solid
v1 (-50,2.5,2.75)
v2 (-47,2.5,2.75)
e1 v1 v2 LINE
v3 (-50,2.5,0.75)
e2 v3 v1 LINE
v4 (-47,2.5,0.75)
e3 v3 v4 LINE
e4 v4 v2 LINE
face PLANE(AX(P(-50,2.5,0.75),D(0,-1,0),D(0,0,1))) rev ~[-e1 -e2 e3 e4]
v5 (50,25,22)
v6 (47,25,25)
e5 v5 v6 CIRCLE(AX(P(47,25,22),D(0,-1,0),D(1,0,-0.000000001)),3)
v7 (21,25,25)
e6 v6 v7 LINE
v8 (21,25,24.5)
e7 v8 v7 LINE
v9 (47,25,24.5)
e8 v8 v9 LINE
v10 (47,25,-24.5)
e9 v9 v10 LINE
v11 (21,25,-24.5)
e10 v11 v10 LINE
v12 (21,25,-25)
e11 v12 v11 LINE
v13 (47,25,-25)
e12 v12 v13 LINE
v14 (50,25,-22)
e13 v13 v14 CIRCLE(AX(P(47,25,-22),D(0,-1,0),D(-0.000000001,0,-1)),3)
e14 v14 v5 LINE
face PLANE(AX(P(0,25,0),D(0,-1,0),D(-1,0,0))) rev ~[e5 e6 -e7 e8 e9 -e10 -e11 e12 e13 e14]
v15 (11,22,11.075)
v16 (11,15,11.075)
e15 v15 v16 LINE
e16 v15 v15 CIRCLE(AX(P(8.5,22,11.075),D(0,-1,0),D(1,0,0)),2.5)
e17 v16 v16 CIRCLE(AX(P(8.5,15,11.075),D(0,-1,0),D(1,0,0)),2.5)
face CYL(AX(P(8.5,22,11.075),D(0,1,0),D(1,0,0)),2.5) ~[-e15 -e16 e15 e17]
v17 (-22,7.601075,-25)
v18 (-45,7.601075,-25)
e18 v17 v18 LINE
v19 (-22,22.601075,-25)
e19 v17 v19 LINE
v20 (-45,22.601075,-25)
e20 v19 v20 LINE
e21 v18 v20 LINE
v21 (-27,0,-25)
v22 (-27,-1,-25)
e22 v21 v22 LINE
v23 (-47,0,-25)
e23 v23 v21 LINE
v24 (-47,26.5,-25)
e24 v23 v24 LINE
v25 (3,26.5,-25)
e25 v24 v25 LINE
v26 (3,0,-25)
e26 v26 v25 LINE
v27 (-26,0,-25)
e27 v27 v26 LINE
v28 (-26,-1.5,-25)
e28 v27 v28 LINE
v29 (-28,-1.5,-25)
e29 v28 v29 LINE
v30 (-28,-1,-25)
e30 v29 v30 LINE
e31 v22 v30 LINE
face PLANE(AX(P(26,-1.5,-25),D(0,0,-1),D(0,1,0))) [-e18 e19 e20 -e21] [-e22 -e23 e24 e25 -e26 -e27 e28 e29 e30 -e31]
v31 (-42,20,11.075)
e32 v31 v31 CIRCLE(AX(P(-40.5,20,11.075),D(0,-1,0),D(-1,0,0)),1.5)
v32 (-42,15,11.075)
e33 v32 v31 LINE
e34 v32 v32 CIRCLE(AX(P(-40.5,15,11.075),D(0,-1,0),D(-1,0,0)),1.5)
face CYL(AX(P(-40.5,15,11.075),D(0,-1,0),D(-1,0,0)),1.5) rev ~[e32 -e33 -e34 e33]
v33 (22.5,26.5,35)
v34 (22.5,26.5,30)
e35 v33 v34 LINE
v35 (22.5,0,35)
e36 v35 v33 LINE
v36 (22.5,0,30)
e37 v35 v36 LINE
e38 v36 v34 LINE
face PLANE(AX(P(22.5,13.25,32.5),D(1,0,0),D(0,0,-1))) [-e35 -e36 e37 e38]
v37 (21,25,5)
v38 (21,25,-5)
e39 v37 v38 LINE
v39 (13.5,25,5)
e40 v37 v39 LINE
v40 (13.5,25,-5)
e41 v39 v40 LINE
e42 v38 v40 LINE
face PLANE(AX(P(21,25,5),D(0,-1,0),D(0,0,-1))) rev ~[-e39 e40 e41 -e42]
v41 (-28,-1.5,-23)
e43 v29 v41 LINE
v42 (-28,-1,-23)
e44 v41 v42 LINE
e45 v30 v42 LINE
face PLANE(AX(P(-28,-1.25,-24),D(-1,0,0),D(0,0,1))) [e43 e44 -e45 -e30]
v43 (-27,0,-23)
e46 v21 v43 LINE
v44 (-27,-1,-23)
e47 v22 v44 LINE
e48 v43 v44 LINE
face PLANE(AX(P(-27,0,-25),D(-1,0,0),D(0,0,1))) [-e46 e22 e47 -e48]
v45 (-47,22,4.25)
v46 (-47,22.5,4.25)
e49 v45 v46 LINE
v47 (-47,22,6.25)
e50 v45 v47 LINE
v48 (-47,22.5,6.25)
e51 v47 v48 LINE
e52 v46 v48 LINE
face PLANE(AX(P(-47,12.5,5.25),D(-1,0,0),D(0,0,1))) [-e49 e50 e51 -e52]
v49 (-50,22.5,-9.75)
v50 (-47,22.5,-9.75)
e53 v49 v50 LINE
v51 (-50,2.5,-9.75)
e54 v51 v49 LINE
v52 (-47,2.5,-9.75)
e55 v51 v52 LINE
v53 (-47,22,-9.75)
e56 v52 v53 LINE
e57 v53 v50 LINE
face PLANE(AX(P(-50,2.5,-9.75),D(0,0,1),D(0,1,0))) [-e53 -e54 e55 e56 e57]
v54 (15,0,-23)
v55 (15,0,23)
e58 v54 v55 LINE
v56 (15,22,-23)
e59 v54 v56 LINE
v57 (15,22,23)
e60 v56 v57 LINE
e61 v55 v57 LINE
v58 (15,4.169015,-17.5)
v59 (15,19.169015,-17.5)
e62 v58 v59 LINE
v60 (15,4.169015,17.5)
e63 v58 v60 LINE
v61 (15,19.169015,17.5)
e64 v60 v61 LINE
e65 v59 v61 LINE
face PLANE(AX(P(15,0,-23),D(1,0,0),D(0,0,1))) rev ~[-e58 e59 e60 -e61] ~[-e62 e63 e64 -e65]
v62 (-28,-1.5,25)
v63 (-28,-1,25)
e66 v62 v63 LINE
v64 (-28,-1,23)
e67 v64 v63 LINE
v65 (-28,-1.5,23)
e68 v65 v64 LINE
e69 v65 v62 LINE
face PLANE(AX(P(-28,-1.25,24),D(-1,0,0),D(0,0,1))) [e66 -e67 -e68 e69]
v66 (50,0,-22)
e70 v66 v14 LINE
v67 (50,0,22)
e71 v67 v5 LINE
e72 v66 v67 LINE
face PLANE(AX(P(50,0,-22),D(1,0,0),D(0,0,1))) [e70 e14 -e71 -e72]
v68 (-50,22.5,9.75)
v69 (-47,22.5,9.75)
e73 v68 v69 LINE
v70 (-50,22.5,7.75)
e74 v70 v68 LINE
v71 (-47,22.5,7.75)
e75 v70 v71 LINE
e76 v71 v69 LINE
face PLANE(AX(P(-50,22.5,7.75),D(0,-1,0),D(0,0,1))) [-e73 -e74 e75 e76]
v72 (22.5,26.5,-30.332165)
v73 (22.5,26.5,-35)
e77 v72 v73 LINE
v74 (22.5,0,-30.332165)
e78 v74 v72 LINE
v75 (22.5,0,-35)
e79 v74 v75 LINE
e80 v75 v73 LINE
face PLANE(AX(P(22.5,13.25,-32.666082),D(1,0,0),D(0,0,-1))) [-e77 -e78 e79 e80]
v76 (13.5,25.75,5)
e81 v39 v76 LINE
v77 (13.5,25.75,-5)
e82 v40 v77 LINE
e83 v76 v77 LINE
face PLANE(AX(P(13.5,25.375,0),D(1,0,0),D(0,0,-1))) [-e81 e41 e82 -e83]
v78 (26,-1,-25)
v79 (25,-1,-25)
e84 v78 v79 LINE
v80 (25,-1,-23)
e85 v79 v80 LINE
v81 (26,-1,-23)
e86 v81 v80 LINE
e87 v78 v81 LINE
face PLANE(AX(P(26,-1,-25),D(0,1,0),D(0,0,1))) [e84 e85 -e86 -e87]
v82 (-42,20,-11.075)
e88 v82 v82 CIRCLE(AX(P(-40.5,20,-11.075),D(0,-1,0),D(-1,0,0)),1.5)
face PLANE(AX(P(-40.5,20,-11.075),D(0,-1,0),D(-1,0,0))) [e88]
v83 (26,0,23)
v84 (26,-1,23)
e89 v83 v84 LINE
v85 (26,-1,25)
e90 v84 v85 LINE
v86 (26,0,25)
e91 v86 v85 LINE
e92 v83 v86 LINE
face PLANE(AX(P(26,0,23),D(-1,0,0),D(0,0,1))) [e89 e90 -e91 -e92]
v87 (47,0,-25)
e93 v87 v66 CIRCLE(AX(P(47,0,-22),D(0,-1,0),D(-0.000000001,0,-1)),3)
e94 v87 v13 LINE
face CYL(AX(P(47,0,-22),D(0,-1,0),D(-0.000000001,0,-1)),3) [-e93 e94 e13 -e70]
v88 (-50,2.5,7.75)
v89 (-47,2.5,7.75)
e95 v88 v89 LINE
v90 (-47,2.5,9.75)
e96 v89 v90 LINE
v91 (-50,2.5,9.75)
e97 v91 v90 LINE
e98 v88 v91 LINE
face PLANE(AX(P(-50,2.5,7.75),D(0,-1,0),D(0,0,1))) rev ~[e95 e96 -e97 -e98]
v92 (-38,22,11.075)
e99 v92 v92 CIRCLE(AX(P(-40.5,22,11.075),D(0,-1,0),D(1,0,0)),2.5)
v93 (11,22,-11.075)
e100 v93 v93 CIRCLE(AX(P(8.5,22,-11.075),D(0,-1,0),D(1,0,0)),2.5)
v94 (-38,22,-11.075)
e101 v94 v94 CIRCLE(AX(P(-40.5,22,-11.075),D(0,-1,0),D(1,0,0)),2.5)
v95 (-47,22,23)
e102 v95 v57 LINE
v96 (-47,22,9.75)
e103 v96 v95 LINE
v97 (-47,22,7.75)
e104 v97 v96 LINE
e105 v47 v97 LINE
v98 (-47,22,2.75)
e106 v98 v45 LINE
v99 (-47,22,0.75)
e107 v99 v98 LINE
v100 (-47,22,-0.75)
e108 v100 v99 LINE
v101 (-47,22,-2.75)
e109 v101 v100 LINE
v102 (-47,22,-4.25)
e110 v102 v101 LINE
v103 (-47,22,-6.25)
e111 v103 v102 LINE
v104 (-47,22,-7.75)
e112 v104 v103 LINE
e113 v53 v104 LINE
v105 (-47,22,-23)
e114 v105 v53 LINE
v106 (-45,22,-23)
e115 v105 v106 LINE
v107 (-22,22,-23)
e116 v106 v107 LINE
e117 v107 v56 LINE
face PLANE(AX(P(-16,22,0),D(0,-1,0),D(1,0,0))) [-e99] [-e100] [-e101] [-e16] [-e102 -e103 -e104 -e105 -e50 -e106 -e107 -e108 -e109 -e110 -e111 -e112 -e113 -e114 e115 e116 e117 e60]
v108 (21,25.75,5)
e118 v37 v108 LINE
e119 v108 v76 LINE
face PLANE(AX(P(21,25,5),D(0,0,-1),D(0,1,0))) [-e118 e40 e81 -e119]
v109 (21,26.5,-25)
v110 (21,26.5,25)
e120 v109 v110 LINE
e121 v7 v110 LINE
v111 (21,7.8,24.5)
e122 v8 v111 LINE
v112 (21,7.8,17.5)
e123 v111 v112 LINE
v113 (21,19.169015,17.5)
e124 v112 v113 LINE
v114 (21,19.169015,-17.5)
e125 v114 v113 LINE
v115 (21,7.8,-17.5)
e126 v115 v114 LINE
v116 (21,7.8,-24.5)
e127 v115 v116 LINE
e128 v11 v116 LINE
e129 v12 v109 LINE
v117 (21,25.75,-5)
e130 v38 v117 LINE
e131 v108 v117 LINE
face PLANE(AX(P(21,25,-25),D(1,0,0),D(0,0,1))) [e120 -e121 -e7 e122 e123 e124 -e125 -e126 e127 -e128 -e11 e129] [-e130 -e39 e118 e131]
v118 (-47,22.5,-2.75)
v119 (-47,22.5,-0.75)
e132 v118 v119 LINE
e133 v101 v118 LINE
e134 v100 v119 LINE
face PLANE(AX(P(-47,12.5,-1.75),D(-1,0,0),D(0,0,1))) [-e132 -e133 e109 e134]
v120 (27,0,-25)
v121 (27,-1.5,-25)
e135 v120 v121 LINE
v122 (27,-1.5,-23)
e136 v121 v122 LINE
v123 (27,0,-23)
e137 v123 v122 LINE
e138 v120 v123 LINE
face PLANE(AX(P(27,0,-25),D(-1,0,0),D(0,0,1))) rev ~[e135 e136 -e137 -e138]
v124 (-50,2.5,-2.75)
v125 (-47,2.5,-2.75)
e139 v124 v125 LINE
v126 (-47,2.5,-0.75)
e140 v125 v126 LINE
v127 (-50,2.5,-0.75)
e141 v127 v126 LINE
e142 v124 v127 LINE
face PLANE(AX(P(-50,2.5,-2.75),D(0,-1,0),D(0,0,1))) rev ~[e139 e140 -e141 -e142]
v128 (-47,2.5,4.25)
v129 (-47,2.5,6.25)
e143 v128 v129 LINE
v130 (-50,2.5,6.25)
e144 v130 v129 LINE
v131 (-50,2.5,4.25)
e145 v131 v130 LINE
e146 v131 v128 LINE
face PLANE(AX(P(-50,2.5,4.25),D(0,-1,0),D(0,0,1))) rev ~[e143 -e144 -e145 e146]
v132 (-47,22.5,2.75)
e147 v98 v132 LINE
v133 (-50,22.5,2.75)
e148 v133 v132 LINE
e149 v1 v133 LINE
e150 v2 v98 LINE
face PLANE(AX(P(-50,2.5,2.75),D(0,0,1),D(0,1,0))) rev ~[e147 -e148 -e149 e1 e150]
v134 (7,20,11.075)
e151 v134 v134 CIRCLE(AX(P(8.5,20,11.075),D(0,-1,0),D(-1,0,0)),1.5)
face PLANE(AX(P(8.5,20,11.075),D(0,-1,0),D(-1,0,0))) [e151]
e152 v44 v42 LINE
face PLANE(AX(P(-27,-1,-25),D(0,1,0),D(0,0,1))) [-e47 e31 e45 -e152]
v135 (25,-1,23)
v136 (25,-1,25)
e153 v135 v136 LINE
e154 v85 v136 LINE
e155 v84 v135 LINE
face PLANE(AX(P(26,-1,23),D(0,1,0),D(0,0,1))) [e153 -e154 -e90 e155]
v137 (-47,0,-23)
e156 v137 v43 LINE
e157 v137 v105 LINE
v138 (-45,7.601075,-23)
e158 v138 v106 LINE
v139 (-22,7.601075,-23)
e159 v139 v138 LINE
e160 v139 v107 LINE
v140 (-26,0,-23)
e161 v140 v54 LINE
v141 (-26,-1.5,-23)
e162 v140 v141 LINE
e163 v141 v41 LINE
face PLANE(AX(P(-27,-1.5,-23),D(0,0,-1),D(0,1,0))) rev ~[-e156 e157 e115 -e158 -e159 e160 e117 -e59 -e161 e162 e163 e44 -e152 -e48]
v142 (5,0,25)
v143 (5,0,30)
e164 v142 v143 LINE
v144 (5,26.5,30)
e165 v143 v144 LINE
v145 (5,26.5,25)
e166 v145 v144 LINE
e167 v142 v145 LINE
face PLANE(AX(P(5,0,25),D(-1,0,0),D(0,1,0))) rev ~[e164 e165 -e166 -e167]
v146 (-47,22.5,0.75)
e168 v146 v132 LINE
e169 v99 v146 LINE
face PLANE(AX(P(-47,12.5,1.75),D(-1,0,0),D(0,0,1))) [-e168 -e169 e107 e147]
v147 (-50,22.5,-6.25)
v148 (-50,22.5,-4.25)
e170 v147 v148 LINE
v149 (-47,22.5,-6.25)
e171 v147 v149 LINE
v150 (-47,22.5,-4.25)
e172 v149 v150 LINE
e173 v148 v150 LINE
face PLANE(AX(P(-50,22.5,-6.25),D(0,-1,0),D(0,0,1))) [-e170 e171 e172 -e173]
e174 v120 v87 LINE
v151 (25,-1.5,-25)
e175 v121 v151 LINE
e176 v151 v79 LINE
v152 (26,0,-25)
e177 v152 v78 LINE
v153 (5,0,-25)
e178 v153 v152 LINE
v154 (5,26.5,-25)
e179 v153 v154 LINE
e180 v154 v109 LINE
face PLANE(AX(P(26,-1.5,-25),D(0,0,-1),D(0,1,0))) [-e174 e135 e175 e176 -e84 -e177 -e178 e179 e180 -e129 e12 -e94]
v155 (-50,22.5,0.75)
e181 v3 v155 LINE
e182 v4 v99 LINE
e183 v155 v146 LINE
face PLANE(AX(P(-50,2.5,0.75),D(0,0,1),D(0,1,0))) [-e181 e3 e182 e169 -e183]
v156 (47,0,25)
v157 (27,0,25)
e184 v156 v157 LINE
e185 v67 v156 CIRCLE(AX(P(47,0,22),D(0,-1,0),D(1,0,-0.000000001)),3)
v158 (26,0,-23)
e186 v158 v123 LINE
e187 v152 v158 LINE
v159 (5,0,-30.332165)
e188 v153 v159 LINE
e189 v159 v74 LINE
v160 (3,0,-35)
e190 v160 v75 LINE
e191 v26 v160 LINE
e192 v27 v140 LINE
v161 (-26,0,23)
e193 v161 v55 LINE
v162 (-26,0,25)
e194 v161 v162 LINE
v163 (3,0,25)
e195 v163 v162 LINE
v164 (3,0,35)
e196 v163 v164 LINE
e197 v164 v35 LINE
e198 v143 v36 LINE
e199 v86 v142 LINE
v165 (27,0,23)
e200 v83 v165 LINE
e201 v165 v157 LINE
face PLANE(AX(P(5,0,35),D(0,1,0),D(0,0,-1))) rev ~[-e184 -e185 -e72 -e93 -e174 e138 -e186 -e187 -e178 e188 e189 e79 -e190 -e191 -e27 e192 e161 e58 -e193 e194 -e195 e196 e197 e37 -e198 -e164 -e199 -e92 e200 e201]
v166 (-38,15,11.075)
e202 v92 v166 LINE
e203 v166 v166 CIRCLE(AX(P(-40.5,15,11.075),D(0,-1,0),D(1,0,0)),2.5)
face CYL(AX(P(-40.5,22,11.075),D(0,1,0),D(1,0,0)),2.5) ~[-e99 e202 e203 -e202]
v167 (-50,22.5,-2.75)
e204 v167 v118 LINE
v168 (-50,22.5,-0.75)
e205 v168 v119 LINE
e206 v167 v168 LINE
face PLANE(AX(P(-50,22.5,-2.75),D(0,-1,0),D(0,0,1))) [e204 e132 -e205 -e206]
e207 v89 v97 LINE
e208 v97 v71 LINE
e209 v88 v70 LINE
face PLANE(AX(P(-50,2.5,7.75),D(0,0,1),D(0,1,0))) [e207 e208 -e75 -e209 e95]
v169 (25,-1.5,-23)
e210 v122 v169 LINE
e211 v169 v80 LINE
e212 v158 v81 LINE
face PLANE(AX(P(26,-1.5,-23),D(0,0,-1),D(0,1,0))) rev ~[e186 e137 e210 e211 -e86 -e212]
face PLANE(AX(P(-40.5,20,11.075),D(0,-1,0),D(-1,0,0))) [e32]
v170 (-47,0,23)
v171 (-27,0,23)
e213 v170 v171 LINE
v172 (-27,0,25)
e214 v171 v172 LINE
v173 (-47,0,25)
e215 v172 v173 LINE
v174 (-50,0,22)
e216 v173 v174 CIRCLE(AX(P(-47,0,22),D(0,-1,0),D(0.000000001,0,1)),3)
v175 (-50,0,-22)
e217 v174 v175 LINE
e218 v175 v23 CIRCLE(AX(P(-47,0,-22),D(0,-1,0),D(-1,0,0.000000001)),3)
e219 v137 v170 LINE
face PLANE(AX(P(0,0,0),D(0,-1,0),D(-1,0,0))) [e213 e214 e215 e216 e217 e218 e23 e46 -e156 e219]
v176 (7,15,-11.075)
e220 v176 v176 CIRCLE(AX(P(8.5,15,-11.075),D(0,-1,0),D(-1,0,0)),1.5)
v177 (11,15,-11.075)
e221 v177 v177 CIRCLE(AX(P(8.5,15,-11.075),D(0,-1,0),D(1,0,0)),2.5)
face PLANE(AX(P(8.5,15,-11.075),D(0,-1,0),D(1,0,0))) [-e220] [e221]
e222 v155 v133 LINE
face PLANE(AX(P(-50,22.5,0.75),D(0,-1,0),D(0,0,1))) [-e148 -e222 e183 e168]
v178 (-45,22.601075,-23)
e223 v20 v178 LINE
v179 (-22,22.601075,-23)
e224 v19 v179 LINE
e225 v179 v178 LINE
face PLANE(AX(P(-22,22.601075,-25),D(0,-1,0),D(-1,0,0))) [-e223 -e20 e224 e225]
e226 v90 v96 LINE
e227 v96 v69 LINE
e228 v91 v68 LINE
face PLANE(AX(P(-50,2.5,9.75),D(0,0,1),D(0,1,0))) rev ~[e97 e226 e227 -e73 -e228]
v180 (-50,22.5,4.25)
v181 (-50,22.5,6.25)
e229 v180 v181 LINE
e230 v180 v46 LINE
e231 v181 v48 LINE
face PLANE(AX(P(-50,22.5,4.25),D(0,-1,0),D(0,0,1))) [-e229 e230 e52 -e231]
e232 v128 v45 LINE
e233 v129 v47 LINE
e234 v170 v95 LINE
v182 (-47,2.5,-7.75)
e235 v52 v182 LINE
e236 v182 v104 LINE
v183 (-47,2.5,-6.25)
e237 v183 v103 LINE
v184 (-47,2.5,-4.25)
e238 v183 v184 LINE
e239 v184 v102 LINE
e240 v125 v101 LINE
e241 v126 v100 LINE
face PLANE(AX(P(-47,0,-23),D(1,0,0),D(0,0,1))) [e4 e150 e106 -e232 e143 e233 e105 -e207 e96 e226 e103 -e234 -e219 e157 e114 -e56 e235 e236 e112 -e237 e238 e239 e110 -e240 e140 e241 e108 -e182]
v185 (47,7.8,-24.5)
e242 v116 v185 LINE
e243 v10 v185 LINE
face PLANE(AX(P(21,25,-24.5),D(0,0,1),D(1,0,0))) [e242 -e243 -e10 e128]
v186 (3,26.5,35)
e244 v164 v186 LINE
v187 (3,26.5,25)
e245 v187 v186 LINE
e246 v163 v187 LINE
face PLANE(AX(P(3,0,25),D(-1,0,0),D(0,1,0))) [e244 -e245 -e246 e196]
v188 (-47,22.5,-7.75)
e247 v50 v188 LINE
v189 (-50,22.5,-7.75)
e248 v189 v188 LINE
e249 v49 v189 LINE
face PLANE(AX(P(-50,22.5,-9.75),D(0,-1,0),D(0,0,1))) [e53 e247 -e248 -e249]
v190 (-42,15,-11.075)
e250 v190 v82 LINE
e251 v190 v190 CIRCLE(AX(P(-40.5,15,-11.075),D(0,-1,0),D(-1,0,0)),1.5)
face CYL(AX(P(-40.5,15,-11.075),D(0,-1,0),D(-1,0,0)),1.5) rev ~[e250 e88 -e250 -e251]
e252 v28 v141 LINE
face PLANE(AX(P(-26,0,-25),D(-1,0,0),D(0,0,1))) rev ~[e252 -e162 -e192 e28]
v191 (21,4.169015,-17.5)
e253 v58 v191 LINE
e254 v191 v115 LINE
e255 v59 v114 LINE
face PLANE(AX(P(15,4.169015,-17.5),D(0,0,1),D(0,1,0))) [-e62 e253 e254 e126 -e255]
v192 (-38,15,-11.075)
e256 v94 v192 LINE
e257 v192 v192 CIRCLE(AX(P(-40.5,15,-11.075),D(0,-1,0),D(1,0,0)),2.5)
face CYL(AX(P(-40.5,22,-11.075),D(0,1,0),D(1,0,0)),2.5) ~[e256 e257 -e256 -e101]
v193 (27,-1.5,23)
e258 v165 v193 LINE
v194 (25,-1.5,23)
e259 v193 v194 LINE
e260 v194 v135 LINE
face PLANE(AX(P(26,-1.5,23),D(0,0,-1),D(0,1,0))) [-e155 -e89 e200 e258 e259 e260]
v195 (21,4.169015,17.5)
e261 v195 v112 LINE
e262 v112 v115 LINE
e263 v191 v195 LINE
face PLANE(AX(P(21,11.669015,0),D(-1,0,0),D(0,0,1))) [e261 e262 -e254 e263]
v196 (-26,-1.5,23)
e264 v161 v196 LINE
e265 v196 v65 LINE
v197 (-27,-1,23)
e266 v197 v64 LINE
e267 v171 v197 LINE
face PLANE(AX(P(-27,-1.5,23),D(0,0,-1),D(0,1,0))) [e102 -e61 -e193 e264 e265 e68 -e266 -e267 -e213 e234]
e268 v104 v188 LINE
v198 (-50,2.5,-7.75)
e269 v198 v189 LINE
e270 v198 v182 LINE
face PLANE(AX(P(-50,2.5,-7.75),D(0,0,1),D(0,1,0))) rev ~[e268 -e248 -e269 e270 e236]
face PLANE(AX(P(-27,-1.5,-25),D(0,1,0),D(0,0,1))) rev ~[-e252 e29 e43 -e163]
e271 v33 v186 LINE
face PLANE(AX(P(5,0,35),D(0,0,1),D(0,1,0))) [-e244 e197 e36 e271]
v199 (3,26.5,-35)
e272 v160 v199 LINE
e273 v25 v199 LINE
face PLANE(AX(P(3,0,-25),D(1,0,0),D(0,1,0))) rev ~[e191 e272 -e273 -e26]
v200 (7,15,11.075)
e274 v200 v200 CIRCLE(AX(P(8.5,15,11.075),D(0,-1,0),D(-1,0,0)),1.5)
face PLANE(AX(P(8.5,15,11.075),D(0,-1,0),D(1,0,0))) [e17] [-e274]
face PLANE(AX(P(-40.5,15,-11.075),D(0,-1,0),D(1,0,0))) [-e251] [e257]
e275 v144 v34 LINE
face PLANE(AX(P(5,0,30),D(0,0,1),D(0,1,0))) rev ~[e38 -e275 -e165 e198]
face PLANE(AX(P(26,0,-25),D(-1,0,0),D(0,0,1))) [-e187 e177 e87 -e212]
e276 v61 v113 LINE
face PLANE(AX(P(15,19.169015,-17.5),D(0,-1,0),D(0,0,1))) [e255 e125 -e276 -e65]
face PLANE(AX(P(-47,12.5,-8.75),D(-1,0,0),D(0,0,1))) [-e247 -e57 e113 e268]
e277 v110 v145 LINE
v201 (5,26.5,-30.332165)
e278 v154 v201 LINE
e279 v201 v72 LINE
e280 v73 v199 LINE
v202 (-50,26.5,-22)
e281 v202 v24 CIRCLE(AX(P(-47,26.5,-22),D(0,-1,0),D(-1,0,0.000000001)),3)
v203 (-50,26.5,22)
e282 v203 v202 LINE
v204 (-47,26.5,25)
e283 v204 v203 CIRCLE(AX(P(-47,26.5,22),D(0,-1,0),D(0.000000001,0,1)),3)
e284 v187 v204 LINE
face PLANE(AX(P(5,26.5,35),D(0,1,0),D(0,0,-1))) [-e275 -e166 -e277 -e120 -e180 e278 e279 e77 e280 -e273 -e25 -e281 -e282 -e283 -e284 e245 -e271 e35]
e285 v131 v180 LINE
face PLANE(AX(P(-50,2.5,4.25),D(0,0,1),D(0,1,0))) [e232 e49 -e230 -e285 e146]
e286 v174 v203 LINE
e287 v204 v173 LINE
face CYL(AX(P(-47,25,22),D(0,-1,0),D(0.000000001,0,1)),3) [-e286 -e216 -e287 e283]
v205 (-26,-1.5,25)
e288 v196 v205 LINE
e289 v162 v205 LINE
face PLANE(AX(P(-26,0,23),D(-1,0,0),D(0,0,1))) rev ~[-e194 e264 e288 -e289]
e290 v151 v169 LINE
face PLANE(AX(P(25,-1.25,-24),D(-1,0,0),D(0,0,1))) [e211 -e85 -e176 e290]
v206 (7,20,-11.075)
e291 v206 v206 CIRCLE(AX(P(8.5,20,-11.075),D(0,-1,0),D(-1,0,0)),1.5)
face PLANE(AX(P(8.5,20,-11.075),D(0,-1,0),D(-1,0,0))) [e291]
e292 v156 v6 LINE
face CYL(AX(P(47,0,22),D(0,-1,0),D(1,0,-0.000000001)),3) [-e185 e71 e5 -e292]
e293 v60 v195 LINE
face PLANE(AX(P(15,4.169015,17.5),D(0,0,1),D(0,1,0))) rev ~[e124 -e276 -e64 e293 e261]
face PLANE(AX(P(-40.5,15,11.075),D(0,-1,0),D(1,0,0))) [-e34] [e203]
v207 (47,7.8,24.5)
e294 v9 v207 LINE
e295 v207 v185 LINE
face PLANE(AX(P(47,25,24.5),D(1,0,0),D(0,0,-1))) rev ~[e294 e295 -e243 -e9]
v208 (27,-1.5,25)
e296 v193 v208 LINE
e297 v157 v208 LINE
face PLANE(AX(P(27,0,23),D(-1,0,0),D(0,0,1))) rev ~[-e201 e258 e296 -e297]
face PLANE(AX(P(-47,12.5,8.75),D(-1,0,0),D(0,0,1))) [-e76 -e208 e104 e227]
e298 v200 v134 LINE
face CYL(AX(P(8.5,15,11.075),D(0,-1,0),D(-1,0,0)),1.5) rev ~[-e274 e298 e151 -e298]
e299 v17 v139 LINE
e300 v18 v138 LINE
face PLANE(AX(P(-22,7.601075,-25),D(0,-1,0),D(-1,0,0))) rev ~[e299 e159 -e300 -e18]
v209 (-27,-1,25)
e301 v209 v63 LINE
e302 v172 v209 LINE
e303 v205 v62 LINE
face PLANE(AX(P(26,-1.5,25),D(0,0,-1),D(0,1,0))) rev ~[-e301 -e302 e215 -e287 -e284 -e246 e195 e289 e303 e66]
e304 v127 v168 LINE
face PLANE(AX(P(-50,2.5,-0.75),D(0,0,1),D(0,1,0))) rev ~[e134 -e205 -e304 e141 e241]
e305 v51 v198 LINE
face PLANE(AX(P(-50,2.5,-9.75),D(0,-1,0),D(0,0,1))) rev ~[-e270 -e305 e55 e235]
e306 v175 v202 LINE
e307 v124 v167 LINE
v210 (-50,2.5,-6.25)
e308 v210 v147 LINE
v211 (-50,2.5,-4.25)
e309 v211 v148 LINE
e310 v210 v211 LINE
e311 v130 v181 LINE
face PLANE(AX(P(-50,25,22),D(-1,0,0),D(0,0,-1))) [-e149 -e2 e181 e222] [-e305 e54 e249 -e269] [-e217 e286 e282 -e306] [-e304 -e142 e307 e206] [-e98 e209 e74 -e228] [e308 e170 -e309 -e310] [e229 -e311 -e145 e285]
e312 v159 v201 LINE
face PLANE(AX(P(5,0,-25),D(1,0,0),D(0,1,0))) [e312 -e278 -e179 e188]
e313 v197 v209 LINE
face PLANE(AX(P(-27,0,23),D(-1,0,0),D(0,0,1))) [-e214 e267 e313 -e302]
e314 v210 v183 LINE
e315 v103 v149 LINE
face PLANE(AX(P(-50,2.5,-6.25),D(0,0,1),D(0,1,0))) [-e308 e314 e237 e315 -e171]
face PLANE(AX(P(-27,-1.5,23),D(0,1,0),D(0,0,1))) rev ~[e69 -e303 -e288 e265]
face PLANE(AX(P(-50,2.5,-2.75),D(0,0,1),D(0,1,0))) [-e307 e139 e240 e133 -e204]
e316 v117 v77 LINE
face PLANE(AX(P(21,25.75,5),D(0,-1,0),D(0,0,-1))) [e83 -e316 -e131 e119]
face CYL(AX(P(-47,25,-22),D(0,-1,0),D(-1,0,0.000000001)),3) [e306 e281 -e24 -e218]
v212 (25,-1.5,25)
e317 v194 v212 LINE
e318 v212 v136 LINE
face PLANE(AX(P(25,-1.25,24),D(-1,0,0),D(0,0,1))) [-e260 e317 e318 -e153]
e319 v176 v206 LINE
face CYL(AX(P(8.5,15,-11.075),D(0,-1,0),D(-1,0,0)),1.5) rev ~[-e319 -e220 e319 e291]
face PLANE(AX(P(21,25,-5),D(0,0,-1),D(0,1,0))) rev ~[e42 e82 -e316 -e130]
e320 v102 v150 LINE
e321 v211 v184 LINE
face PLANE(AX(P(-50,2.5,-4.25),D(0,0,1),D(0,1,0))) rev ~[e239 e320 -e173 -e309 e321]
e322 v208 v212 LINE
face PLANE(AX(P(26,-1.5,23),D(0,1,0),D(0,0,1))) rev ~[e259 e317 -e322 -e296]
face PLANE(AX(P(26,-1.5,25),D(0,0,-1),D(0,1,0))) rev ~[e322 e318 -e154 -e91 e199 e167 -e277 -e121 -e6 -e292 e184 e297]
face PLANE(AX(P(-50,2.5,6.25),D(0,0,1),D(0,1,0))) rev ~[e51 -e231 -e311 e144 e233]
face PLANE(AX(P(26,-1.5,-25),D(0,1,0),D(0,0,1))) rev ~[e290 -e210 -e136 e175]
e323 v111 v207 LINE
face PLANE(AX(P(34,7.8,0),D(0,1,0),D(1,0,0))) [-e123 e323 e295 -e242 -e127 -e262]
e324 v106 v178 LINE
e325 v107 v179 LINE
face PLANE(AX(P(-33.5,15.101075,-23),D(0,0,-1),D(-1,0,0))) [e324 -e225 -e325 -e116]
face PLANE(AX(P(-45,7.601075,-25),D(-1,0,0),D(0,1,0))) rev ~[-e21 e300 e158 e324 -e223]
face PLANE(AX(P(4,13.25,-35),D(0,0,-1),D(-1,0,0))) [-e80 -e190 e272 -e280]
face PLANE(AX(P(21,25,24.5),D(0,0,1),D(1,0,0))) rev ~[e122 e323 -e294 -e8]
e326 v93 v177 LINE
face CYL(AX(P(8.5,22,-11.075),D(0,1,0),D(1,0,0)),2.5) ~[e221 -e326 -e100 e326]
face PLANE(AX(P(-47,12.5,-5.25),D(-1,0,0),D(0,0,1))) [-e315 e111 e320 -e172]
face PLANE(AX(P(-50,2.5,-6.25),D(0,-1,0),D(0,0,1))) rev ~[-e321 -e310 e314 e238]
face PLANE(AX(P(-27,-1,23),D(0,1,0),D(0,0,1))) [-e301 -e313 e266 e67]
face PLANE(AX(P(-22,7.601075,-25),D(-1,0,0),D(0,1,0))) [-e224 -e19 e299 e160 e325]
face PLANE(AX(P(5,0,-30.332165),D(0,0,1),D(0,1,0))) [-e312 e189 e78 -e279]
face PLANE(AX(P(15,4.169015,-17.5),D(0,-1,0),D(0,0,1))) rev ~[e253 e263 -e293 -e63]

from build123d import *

# Parameters (mm, degrees)
BOSS_EXTRUDE1_DEPTH  = 25
SKETCH3_W            = 26
SKETCH3_H            = 49
CUT_EXTRUDE1_DEPTH   = 17.2
SKETCH4_W            = 62
SKETCH4_H            = 46
CUT_EXTRUDE2_DEPTH   = 22
SKETCH5_W            = 2
SKETCH5_H            = 20
CUT_EXTRUDE4_DEPTH   = 3
SKETCH6_W            = 23
SKETCH6_H            = 15
CUT_EXTRUDE5_DEPTH   = 2
SKETCH7_W            = 35
SKETCH7_H            = 15
CUT_EXTRUDE6_DEPTH   = 6
BOSS_EXTRUDE2_DEPTH  = 1.5
SKETCH9_W            = 10
SKETCH9_H            = 0.75
CUT_EXTRUDE7_DEPTH   = 7.5
SKETCH10_W           = 1
SKETCH10_H           = 2
BOSS_EXTRUDE3_DEPTH  = 1.5
SKETCH11_W           = 1
SKETCH11_H           = 2
BOSS_EXTRUDE4_DEPTH  = 1.5
SKETCH12_W           = 2
SKETCH12_H           = 0.5
BOSS_EXTRUDE5_DEPTH  = 1
SKETCH13_W           = 2
SKETCH13_H           = 0.5
BOSS_EXTRUDE6_DEPTH  = 1
SKETCH14_W           = 2
SKETCH14_H           = 0.5
BOSS_EXTRUDE7_DEPTH  = 1
SKETCH15_W           = 2
SKETCH15_H           = 0.5
BOSS_EXTRUDE8_DEPTH  = 1
SKETCH17_W           = 2
SKETCH17_H           = 26.5
BOSS_EXTRUDE10_DEPTH = 10
SKETCH18_W           = 2
SKETCH18_H           = 26.5
BOSS_EXTRUDE11_DEPTH = 10
SKETCH19_W           = 5
SKETCH19_H           = 26.5
SKETCH19_W_2         = 4.66783526
BOSS_EXTRUDE13_DEPTH = 17.5
SKETCH20_R           = 2.5
BOSS_EXTRUDE14_DEPTH = 7
SKETCH21_R           = 1.5
CUT_EXTRUDE8_DEPTH   = 5


with BuildPart() as part:
    # Sketch2 → Boss-Extrude1 (new body)
    with BuildSketch(Plane(origin=(0, 0, 0), x_dir=(1, 0, 0), z_dir=(0, 1, 0))):
        with BuildLine():
            Line((47, -25), (-47, -25))
            ThreePointArc((-47, -25), (-49.121320344, -24.121320344), (-50, -22))
            Line((-50, -22), (-50, 22))
            ThreePointArc((-50, 22), (-49.121320344, 24.121320344), (-47, 25))
            Line((-47, 25), (47, 25))
            ThreePointArc((47, 25), (49.121320344, 24.121320344), (50, 22))
            Line((50, 22), (50, -22))
            ThreePointArc((50, -22), (49.121320344, -24.121320344), (47, -25))
        make_face()
    extrude(amount=BOSS_EXTRUDE1_DEPTH)

    # Sketch3 → Cut-Extrude1 (cut)
    with BuildSketch(Plane(origin=(0, 25, 0), x_dir=(1, 0, 0), z_dir=(0, 1, 0))):
        with Locations((34, 0)):
            Rectangle(SKETCH3_W, SKETCH3_H)
    extrude(amount=-CUT_EXTRUDE1_DEPTH, mode=Mode.SUBTRACT)

    # Sketch4 → Cut-Extrude2 (cut)
    with BuildSketch(Plane.XZ):
        with Locations((-16, 0)):
            Rectangle(SKETCH4_W, SKETCH4_H)
    extrude(amount=-CUT_EXTRUDE2_DEPTH, mode=Mode.SUBTRACT)

    # Sketch5 → Cut-Extrude4 (cut)
    with BuildSketch(Plane.ZY.offset(50)):
        with Locations((-8.75, 12.5)):
            Rectangle(SKETCH5_W, SKETCH5_H)
        with Locations((-5.25, 12.5)):
            Rectangle(SKETCH5_W, SKETCH5_H)
        with Locations((-1.75, 12.5)):
            Rectangle(SKETCH5_W, SKETCH5_H)
        with Locations((1.75, 12.5)):
            Rectangle(SKETCH5_W, SKETCH5_H)
        with Locations((5.25, 12.5)):
            Rectangle(SKETCH5_W, SKETCH5_H)
        with Locations((8.75, 12.5)):
            Rectangle(SKETCH5_W, SKETCH5_H)
    extrude(amount=-CUT_EXTRUDE4_DEPTH, mode=Mode.SUBTRACT)

    # Sketch6 → Cut-Extrude5 (cut)
    with BuildSketch(Plane(origin=(0, 0, -25), x_dir=(-1, 0, 0), z_dir=(0, 0, -1))):
        with Locations((33.5, 15.101074808)):
            Rectangle(SKETCH6_W, SKETCH6_H)
    extrude(amount=-CUT_EXTRUDE5_DEPTH, mode=Mode.SUBTRACT)

    # Sketch7 → Cut-Extrude6 (cut)
    with BuildSketch(Plane.ZY.offset(-15)):
        with Locations((0, 11.669015381)):
            Rectangle(SKETCH7_W, SKETCH7_H)
    extrude(amount=-CUT_EXTRUDE6_DEPTH, mode=Mode.SUBTRACT)

    # Sketch8 → Boss-Extrude2 (add)
    with BuildSketch(Plane(origin=(0, 25, 0), x_dir=(1, 0, 0), z_dir=(0, 1, 0))):
        with BuildLine():
            Line((-47, 25), (21, 25))
            Line((21, 25), (21, -25))
            Line((21, -25), (-47, -25))
            ThreePointArc((-47, -25), (-49.121320344, -24.121320344), (-50, -22))
            Line((-50, -22), (-50, 22))
            ThreePointArc((-50, 22), (-49.121320344, 24.121320344), (-47, 25))
        make_face()
    extrude(amount=BOSS_EXTRUDE2_DEPTH)

    # Sketch9 → Cut-Extrude7 (cut)
    with BuildSketch(Plane(origin=(21, 0, 0), x_dir=(0, 0, -1), z_dir=(1, 0, 0))):
        with Locations((0, 25.375)):
            Rectangle(SKETCH9_W, SKETCH9_H)
    extrude(amount=-CUT_EXTRUDE7_DEPTH, mode=Mode.SUBTRACT)

    # Sketch10 → Boss-Extrude3 (add)
    with BuildSketch(Plane.XZ):
        with Locations((-26.5, 24)):
            Rectangle(SKETCH10_W, SKETCH10_H)
    extrude(amount=BOSS_EXTRUDE3_DEPTH)

    # Sketch11 → Boss-Extrude4 (add)
    with BuildSketch(Plane.XZ):
        with Locations((-26.5, -24)):
            Rectangle(SKETCH11_W, SKETCH11_H)
        with Locations((26.5, 24)):
            Rectangle(SKETCH11_W, SKETCH11_H)
        with Locations((26.5, -24)):
            Rectangle(SKETCH11_W, SKETCH11_H)
    extrude(amount=BOSS_EXTRUDE4_DEPTH)

    # Sketch12 → Boss-Extrude5 (add)
    with BuildSketch(Plane.ZY.offset(27)):
        with Locations((24, -1.25)):
            Rectangle(SKETCH12_W, SKETCH12_H)
    extrude(amount=BOSS_EXTRUDE5_DEPTH)

    # Sketch13 → Boss-Extrude6 (add)
    with BuildSketch(Plane.ZY.offset(27)):
        with Locations((-24, -1.25)):
            Rectangle(SKETCH13_W, SKETCH13_H)
    extrude(amount=BOSS_EXTRUDE6_DEPTH)

    # Sketch14 → Boss-Extrude7 (add)
    with BuildSketch(Plane.ZY.offset(-26)):
        with Locations((-24, -1.25)):
            Rectangle(SKETCH14_W, SKETCH14_H)
    extrude(amount=BOSS_EXTRUDE7_DEPTH)

    # Sketch15 → Boss-Extrude8 (add)
    with BuildSketch(Plane.ZY.offset(-26)):
        with Locations((24, -1.25)):
            Rectangle(SKETCH15_W, SKETCH15_H)
    extrude(amount=BOSS_EXTRUDE8_DEPTH)

    # Sketch17 → Boss-Extrude10 (add)
    with BuildSketch(Plane.XY.offset(25)):
        with Locations((4, 13.25)):
            Rectangle(SKETCH17_W, SKETCH17_H)
    extrude(amount=BOSS_EXTRUDE10_DEPTH)

    # Sketch18 → Boss-Extrude11 (add)
    with BuildSketch(Plane(origin=(0, 0, -25), x_dir=(-1, 0, 0), z_dir=(0, 0, -1))):
        with Locations((-4, 13.25)):
            Rectangle(SKETCH18_W, SKETCH18_H)
    extrude(amount=BOSS_EXTRUDE11_DEPTH)

    # Sketch19 → Boss-Extrude13 (add)
    with BuildSketch(Plane(origin=(5, 0, 0), x_dir=(0, 0, -1), z_dir=(1, 0, 0))):
        with Locations((-32.5, 13.25)):
            Rectangle(SKETCH19_W, SKETCH19_H)
        with Locations((32.66608237, 13.25)):
            Rectangle(SKETCH19_W_2, SKETCH19_H)
    extrude(amount=BOSS_EXTRUDE13_DEPTH)

    # Sketch20 → Boss-Extrude14 (add)
    with BuildSketch(Plane.XZ.offset(-22)):
        with Locations((-40.5, 11.075)):
            Circle(SKETCH20_R)
        with Locations((8.5, 11.075)):
            Circle(SKETCH20_R)
        with Locations((-40.5, -11.075)):
            Circle(SKETCH20_R)
        with Locations((8.5, -11.075)):
            Circle(SKETCH20_R)
    extrude(amount=BOSS_EXTRUDE14_DEPTH)

    # Sketch21 → Cut-Extrude8 (cut)
    with BuildSketch(Plane(origin=(0, 15, 0), x_dir=(-1, 0, 0), z_dir=(0, -1, 0))):
        with Locations((-8.5, 11.075)):
            Circle(SKETCH21_R)
        with Locations((-8.5, -11.075)):
            Circle(SKETCH21_R)
        with Locations((40.5, 11.075)):
            Circle(SKETCH21_R)
        with Locations((40.5, -11.075)):
            Circle(SKETCH21_R)
    extrude(amount=-CUT_EXTRUDE8_DEPTH, mode=Mode.SUBTRACT)


solid = part.part
